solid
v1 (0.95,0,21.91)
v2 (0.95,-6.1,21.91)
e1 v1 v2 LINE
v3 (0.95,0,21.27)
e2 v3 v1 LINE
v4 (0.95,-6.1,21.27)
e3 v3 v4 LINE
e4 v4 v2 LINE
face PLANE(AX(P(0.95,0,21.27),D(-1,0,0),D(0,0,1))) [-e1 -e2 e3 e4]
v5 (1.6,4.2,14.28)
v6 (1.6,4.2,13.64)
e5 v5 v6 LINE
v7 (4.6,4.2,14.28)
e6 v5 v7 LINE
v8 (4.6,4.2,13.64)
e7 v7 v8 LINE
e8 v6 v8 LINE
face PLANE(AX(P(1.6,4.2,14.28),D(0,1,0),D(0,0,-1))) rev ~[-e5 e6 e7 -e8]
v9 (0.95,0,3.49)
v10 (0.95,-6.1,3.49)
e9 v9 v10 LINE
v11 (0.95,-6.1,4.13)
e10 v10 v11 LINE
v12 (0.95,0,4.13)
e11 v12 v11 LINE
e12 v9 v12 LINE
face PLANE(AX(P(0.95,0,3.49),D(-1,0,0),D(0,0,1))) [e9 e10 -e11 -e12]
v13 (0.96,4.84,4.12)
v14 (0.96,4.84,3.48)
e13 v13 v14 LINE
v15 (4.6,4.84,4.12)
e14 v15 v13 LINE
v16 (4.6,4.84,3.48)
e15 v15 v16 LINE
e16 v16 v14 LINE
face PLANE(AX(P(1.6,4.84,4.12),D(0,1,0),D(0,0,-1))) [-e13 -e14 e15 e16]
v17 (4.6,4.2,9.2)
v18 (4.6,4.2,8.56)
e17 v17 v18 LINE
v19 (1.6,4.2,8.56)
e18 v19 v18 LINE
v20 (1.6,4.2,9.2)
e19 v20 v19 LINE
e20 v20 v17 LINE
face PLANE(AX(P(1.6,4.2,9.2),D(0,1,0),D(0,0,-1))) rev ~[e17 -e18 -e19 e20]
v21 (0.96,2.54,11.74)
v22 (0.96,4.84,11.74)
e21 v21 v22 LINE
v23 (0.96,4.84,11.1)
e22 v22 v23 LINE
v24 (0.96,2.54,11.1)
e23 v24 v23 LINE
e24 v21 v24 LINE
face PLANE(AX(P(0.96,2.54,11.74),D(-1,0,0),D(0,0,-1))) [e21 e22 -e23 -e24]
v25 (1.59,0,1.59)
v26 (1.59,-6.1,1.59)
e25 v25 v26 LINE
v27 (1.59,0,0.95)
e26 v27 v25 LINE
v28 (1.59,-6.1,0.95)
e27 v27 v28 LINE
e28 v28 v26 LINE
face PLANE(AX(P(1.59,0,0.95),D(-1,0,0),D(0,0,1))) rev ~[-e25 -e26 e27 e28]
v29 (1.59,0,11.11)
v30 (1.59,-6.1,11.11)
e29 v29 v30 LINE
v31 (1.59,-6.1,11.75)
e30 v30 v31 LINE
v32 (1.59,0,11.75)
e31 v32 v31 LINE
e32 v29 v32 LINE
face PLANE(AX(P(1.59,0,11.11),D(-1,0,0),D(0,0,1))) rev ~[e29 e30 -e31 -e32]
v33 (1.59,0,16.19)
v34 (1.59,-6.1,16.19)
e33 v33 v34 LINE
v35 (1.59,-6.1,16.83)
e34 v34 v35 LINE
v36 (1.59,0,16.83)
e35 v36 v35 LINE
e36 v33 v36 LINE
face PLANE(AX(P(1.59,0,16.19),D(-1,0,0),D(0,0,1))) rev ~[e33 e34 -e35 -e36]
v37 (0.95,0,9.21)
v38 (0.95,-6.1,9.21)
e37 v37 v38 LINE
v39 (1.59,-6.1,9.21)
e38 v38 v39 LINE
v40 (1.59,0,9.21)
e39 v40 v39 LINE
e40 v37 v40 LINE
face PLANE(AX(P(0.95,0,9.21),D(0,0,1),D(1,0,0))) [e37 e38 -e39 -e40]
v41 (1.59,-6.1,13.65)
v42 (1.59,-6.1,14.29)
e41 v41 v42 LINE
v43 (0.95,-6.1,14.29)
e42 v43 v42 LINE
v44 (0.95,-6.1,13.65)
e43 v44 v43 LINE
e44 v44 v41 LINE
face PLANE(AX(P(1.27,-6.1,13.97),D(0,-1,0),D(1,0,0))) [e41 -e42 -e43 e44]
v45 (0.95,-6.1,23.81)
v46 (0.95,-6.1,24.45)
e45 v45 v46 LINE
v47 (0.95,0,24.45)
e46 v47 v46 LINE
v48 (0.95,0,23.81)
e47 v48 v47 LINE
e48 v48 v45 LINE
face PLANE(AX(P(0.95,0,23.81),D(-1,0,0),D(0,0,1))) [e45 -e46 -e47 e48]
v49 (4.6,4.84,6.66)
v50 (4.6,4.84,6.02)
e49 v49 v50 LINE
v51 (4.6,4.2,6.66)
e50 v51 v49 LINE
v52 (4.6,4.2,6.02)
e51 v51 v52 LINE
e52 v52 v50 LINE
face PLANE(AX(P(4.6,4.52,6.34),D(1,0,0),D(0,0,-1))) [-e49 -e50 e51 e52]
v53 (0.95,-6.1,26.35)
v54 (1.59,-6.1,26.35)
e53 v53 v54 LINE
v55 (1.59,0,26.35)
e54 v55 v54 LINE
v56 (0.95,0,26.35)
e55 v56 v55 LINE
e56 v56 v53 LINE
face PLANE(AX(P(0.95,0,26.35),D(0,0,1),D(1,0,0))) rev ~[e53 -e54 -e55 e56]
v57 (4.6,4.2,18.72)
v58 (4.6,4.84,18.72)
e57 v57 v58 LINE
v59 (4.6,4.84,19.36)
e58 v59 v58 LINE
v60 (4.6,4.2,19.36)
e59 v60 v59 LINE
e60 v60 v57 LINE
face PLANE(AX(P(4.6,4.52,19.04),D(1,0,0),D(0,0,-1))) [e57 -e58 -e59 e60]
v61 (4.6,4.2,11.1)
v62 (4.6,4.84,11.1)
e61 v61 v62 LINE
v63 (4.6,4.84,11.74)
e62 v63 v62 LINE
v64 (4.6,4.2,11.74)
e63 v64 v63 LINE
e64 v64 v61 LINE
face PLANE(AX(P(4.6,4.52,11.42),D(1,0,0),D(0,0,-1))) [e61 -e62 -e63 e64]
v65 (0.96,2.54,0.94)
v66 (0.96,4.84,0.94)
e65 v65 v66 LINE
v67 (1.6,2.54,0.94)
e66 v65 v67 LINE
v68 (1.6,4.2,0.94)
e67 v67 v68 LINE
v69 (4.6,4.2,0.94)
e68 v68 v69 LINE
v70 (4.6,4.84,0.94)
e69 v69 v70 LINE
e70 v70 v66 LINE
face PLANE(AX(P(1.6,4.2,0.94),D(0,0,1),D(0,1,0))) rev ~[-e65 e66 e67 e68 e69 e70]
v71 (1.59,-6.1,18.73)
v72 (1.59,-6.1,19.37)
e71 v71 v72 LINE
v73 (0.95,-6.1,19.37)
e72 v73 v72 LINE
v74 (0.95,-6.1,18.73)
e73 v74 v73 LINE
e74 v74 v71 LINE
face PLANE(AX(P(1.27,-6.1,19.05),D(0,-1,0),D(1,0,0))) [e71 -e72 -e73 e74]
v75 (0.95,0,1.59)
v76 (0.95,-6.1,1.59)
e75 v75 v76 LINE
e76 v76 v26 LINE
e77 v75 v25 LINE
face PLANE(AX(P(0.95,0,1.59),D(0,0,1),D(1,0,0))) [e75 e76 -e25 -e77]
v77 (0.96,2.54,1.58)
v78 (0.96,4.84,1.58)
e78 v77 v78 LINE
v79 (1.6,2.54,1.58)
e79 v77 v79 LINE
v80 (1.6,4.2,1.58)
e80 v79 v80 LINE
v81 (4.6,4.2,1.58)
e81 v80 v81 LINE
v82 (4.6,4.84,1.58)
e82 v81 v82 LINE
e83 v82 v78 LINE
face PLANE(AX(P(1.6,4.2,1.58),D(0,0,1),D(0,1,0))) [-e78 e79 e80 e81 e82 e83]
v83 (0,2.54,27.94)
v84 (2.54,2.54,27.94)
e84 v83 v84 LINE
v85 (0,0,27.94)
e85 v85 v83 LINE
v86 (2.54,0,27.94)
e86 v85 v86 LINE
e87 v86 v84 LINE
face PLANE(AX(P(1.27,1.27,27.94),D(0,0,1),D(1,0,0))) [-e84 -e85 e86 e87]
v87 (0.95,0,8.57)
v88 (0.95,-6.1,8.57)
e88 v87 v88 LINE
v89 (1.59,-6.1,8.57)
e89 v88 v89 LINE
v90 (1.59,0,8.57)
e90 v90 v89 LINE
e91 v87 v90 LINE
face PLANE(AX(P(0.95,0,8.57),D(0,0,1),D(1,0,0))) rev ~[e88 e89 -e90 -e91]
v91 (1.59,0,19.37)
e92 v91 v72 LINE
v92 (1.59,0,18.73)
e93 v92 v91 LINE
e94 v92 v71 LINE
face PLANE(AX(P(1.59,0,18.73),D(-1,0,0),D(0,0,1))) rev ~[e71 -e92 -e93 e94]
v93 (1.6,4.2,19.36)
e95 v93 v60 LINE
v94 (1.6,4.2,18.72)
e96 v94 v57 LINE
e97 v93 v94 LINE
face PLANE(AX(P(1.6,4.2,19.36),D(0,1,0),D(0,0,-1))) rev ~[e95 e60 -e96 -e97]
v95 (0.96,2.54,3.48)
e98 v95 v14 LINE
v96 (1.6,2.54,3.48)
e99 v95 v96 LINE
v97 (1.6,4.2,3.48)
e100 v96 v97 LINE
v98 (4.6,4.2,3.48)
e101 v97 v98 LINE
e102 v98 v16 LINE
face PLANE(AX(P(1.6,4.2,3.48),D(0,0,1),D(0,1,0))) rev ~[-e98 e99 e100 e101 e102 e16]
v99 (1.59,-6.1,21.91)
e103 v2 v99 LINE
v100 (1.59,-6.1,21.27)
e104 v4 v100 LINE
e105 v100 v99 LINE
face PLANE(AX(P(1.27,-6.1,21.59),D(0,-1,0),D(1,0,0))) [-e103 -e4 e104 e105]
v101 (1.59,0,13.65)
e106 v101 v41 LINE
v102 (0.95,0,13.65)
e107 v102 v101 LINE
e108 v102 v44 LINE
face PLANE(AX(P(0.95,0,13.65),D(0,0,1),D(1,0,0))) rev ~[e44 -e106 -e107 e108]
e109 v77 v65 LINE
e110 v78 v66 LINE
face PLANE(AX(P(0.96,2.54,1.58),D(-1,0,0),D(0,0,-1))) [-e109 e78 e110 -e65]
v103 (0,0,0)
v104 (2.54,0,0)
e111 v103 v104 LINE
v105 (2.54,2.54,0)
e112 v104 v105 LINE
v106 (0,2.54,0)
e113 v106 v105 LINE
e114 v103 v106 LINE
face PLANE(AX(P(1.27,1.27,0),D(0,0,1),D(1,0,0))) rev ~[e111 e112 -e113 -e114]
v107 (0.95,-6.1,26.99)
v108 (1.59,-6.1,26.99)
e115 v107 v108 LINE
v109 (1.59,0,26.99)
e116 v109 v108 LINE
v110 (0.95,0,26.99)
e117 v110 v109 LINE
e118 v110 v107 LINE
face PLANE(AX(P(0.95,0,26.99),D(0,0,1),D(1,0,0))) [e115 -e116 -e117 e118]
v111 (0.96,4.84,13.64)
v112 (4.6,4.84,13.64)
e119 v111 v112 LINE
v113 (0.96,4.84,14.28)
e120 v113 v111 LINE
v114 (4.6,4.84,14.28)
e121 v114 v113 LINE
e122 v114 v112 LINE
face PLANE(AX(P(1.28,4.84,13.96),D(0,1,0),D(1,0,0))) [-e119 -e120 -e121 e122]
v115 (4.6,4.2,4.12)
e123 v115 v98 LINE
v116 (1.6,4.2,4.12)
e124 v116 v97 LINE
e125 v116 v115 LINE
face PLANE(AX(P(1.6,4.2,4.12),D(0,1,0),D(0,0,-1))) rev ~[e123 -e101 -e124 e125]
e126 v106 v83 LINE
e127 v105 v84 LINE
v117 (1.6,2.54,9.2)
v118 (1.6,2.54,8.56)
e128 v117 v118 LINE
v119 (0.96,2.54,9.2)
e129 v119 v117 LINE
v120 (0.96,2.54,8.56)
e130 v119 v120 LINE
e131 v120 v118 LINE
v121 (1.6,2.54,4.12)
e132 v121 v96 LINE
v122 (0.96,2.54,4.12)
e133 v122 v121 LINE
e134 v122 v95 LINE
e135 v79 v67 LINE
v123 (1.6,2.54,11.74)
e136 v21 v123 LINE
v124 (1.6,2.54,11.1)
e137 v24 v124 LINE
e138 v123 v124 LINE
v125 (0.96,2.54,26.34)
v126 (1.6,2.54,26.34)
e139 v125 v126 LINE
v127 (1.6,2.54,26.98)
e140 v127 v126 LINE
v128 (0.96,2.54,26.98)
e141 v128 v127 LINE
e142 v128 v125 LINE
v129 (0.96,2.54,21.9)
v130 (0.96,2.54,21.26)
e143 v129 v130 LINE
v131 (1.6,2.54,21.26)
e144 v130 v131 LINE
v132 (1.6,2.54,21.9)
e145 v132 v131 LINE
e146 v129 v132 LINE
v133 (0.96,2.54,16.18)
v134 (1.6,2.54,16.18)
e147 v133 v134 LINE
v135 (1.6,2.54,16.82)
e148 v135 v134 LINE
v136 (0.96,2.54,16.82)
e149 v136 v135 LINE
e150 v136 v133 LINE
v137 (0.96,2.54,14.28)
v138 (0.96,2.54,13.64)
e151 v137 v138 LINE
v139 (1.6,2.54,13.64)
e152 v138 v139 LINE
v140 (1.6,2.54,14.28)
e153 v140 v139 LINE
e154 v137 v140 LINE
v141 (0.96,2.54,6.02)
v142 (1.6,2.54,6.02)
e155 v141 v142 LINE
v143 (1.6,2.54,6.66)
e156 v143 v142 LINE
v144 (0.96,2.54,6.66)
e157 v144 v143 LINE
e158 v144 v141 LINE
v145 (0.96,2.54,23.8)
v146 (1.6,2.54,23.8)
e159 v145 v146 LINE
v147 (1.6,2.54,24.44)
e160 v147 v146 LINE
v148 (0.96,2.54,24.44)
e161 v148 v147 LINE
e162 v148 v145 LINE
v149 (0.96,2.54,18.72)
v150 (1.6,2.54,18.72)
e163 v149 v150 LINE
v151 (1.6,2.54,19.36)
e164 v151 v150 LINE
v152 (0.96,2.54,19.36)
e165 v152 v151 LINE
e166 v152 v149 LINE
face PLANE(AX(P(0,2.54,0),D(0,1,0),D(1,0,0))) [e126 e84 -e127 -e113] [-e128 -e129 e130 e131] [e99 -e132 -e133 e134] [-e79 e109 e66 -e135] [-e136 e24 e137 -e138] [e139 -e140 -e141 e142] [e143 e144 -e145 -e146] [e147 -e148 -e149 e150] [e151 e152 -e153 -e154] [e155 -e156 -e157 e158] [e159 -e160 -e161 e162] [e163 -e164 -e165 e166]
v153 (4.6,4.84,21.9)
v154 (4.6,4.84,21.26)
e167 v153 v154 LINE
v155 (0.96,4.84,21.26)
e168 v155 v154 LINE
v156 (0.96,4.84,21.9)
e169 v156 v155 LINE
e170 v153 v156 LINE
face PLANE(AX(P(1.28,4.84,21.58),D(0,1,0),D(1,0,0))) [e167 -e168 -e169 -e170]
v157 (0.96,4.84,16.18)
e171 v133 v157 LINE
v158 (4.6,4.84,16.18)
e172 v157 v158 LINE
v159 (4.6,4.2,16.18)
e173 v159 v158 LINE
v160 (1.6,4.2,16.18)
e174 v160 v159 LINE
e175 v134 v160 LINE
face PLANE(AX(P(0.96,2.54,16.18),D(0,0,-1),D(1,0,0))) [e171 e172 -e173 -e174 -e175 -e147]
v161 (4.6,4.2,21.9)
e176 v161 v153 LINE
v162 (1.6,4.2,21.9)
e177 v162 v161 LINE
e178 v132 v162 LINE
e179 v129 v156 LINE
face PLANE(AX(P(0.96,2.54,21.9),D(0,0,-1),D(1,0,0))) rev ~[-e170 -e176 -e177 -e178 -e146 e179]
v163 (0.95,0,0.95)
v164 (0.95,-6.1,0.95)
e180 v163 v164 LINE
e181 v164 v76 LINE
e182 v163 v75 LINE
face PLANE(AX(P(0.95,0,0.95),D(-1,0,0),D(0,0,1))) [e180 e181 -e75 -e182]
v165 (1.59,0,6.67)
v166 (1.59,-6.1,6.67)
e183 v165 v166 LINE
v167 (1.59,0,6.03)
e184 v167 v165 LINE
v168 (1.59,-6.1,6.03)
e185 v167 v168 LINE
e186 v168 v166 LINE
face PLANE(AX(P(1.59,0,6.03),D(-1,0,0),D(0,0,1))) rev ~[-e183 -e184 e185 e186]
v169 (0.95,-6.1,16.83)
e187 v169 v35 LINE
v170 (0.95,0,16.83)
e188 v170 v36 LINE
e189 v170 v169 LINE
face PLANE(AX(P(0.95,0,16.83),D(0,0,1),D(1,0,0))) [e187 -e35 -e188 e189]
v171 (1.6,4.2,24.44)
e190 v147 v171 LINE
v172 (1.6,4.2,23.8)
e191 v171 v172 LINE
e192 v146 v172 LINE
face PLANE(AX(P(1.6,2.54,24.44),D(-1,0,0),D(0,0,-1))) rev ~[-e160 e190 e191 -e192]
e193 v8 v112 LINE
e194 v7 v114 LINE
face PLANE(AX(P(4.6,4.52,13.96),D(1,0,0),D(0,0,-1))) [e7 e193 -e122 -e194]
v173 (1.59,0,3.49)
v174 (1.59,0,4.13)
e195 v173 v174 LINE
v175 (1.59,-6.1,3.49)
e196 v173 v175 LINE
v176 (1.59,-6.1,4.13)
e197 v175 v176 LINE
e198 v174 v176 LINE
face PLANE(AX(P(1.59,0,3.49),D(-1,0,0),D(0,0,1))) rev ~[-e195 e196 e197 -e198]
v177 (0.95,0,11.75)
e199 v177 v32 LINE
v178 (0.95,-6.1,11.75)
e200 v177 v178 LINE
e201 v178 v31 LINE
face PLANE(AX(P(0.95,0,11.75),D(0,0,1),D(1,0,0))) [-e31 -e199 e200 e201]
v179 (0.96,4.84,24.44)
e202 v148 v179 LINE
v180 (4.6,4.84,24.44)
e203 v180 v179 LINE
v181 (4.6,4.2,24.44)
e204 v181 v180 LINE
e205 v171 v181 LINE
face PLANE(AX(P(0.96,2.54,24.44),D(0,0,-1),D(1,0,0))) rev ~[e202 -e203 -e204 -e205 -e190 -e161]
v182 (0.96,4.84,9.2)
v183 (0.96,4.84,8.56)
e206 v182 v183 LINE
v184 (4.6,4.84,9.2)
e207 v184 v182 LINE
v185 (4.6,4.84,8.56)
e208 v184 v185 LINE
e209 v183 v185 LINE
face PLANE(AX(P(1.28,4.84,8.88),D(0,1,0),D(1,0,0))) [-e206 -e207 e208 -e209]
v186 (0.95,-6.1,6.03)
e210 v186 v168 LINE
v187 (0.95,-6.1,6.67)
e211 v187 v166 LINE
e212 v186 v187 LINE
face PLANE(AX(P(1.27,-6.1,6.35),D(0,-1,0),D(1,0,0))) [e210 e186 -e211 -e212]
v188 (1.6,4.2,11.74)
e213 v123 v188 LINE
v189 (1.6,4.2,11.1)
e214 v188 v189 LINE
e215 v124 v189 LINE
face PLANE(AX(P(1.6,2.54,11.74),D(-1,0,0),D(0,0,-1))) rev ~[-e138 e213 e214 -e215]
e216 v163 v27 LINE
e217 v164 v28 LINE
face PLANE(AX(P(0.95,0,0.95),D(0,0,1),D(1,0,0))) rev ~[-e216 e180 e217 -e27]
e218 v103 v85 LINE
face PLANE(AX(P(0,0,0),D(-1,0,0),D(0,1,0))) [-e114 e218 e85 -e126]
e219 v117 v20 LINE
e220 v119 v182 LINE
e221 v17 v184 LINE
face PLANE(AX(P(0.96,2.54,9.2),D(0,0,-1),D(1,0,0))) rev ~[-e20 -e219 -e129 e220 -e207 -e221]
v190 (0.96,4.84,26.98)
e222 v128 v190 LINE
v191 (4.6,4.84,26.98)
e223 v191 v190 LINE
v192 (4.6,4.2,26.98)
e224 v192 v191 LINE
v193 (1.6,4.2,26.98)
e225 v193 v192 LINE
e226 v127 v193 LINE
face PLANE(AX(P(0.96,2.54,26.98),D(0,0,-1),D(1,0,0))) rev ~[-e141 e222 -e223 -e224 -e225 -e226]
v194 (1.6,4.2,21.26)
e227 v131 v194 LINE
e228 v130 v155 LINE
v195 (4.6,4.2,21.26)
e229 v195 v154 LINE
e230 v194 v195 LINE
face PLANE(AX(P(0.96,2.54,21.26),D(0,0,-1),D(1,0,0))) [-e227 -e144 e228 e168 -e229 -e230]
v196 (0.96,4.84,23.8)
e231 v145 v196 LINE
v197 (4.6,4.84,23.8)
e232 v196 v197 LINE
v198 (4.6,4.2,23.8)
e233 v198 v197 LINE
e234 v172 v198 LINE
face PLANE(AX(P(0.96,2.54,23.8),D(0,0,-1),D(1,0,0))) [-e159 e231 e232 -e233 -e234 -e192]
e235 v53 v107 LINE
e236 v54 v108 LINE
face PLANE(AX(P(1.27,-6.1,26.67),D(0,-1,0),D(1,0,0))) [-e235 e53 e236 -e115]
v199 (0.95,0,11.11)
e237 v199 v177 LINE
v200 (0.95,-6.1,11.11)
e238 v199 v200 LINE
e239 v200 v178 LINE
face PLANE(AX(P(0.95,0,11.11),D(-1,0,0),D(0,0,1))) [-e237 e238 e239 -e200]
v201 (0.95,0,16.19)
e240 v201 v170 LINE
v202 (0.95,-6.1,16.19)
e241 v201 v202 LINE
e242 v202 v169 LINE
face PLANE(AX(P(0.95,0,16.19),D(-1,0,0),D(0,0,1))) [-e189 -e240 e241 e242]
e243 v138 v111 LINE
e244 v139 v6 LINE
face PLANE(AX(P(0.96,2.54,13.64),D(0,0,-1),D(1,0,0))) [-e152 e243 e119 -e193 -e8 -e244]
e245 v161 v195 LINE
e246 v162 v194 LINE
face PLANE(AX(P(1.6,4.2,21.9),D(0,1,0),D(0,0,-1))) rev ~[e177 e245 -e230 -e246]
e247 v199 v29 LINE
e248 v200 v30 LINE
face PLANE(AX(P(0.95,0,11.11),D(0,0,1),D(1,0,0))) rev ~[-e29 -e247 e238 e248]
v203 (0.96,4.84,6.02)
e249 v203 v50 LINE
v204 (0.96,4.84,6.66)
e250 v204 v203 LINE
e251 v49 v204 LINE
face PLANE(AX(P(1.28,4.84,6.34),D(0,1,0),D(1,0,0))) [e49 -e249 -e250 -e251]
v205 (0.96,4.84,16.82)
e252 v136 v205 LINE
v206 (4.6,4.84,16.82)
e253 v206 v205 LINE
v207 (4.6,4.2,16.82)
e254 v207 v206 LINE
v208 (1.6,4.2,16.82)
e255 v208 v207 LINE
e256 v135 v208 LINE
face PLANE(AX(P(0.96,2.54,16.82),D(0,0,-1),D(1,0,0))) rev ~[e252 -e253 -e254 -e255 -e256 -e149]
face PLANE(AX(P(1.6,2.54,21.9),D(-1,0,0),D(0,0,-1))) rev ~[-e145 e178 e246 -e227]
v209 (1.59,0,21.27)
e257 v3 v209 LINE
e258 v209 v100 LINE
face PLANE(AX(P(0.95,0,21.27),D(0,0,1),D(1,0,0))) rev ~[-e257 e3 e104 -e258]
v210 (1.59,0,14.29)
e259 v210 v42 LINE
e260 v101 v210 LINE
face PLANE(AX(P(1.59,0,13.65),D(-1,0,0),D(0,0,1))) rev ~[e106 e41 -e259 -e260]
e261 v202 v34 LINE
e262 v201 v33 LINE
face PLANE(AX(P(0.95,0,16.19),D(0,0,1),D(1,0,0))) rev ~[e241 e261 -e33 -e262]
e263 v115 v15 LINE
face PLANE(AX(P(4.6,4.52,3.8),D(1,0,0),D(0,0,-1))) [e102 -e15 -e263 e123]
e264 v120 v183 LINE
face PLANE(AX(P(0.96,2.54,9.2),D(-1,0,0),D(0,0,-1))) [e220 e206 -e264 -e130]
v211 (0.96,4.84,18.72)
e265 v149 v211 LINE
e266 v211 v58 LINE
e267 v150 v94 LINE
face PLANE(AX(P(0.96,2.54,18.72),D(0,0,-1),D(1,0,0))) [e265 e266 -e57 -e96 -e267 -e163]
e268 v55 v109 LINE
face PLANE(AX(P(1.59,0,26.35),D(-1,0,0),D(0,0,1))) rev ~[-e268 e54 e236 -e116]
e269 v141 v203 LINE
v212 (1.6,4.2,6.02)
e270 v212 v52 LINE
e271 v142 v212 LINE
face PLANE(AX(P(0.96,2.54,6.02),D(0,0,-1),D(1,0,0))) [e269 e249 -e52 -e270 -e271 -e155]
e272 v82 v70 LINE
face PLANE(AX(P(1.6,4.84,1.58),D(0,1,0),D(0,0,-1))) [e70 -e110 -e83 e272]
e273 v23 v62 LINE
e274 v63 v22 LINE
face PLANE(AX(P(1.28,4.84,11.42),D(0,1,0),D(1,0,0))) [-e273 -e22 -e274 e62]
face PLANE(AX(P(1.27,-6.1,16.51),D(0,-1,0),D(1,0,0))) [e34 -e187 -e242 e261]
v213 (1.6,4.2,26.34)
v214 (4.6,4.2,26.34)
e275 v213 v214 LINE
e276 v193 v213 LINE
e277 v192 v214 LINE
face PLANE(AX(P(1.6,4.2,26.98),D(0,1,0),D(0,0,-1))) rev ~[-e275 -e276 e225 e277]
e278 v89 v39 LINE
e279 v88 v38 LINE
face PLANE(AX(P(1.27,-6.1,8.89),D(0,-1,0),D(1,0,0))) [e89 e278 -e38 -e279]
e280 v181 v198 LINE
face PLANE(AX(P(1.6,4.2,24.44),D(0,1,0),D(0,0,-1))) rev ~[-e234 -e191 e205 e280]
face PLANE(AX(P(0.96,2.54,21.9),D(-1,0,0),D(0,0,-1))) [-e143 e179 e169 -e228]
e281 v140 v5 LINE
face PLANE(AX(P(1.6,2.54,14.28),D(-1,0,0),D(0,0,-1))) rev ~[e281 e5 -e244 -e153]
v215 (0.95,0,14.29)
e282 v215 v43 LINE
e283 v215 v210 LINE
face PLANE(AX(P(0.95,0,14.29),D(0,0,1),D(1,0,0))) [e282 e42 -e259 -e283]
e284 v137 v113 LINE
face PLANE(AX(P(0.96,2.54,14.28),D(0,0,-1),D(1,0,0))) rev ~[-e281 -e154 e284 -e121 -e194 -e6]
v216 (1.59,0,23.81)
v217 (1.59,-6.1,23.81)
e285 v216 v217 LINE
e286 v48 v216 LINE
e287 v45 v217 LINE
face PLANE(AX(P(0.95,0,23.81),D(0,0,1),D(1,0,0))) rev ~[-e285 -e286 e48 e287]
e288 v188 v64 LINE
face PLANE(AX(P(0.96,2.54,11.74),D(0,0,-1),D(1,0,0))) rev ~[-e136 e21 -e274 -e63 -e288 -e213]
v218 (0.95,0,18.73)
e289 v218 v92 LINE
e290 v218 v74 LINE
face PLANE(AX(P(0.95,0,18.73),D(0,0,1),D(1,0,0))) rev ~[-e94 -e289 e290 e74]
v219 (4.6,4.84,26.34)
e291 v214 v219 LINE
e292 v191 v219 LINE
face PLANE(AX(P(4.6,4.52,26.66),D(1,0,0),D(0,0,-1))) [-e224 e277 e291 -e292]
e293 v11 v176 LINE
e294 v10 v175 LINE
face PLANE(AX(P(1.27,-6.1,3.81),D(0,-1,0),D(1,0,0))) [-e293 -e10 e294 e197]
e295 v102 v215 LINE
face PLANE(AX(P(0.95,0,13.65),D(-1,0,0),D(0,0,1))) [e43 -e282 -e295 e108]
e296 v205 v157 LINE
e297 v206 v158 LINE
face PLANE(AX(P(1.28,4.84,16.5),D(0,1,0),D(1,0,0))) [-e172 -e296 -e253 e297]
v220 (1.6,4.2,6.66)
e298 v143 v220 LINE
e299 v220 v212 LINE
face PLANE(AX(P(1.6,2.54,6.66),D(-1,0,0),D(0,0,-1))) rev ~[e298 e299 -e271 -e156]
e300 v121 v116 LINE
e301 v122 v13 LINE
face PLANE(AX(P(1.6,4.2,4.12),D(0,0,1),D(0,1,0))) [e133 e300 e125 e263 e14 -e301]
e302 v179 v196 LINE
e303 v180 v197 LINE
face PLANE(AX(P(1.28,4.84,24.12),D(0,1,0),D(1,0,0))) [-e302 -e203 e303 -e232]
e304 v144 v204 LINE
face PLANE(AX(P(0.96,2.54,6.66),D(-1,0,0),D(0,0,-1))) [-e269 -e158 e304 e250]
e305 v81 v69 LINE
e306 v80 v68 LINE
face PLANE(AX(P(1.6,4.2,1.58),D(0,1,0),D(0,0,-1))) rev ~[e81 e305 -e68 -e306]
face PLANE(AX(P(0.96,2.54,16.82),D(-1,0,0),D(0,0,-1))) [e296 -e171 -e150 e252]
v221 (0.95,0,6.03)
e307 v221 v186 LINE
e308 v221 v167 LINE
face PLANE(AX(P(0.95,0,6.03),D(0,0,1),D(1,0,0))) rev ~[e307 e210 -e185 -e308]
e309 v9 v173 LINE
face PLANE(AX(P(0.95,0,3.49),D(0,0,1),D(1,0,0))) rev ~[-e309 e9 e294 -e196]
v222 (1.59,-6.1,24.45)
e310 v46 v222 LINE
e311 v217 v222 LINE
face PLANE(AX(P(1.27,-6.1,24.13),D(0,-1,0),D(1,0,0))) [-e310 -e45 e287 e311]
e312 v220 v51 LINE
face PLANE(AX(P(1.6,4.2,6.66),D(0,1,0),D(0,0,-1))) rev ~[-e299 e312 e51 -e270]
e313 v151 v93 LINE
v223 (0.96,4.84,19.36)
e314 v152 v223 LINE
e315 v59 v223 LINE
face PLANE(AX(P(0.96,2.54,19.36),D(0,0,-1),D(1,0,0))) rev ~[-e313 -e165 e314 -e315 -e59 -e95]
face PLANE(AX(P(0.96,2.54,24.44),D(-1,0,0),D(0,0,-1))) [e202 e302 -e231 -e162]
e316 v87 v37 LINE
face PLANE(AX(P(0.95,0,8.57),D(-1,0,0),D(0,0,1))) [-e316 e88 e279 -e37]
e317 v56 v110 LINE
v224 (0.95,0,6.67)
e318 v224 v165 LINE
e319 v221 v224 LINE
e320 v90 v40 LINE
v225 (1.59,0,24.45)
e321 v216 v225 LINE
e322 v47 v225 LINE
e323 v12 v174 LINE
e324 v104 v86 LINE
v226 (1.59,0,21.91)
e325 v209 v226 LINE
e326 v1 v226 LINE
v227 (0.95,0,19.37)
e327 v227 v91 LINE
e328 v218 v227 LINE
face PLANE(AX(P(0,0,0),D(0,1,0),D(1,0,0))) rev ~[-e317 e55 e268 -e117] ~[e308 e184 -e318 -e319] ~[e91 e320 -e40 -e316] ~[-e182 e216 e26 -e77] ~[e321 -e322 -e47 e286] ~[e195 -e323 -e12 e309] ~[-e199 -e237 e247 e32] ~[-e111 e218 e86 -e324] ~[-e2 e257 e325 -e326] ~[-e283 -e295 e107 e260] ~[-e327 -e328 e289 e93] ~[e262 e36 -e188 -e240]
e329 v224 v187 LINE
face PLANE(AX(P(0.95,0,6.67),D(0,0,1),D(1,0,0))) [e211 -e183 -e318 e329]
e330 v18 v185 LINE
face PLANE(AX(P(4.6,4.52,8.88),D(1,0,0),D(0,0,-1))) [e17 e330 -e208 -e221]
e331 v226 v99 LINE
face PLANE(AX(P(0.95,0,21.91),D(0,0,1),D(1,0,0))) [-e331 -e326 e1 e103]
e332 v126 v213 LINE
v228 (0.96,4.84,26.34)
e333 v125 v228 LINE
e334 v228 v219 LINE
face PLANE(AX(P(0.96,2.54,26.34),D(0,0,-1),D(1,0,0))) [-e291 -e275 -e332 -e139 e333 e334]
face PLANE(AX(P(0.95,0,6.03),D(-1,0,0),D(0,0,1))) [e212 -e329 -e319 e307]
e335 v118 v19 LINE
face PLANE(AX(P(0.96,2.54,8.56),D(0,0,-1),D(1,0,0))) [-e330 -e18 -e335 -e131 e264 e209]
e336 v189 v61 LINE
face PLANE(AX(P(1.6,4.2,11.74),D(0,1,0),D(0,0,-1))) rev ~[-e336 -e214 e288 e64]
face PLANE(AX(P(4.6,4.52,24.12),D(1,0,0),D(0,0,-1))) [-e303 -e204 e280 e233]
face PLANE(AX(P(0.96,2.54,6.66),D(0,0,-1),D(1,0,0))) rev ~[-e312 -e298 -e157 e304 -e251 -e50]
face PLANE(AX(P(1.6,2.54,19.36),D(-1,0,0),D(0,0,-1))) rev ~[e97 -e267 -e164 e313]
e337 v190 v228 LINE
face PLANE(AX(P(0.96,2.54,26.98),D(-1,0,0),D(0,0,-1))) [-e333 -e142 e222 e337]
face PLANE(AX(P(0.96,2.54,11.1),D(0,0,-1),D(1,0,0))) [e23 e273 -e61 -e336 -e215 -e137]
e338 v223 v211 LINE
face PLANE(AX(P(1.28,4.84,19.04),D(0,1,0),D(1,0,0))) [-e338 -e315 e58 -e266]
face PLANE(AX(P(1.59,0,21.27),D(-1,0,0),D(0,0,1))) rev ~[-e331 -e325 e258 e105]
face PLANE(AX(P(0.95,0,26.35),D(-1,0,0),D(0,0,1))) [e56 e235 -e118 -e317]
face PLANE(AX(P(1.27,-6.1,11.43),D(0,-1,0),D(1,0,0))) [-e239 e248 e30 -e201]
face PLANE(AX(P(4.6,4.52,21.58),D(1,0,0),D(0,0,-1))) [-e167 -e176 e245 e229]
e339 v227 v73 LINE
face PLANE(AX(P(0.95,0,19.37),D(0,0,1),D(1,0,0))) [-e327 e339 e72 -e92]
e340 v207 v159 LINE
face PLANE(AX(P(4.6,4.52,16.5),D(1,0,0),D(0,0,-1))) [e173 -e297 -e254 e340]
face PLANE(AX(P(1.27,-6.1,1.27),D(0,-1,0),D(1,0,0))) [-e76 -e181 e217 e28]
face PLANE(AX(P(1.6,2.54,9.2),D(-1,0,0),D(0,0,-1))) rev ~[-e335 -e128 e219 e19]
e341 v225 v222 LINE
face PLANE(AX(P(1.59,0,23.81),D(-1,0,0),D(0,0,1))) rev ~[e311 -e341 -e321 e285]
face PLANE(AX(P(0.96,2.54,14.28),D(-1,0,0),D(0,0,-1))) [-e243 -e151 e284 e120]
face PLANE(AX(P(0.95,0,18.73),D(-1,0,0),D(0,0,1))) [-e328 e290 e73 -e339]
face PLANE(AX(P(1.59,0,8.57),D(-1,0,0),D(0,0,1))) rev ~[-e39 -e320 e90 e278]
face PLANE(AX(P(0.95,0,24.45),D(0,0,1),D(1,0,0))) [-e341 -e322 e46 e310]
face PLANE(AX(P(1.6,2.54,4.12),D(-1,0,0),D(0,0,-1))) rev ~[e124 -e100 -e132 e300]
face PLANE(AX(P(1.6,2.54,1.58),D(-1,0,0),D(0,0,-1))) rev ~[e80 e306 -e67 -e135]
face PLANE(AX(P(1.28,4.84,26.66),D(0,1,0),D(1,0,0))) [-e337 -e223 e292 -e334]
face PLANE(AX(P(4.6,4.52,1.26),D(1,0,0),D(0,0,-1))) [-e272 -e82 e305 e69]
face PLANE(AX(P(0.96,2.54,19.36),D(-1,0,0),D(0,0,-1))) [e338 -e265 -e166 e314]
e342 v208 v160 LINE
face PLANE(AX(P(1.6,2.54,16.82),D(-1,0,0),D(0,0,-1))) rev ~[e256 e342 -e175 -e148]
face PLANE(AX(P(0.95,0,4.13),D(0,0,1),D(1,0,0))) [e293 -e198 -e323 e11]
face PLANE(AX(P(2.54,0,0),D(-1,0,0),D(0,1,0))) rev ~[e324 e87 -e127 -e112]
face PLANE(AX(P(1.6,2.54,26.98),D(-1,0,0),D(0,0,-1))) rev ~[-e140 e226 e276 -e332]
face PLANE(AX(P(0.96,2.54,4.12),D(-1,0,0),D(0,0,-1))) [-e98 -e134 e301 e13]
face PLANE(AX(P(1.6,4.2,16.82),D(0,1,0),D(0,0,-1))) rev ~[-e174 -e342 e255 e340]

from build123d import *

# Parameters (mm, degrees)
SKETCH1_W           = 2.54
SKETCH1_H           = 2.54
BOSS_EXTRUDE1_DEPTH = 27.94
SKETCH2_W           = 0.64
SKETCH2_H           = 0.64
BOSS_EXTRUDE2_DEPTH = 6.1
LPATTERN1_COUNT     = 11
LPATTERN1_PITCH     = 2.54
SKETCH3_W           = 0.64
SKETCH3_H           = 0.64
BOSS_EXTRUDE3_DEPTH = 2.3
LPATTERN2_COUNT     = 11
LPATTERN2_PITCH     = 2.54
SKETCH4_W           = 0.64
SKETCH4_H           = 0.64
BOSS_EXTRUDE4_DEPTH = 3
LPATTERN3_COUNT     = 11
LPATTERN3_PITCH     = 2.54


with BuildPart() as part:
    # Sketch1 → Boss-Extrude1 (new body)
    with BuildSketch(Plane.XY):
        with Locations((1.27, 1.27)):
            Rectangle(SKETCH1_W, SKETCH1_H)
    extrude(amount=BOSS_EXTRUDE1_DEPTH)

    # Sketch2 → Boss-Extrude2 (add)
    with BuildSketch(Plane.XZ):
        with Locations((1.27, 26.67)):
            Rectangle(SKETCH2_W, SKETCH2_H)
    boss_extrude2 = extrude(amount=BOSS_EXTRUDE2_DEPTH)

    # LPattern1: Boss-Extrude2 ×11
    with Locations(*[(0, 0, -i * LPATTERN1_PITCH) for i in range(1, LPATTERN1_COUNT)]):
        add(boss_extrude2)

    # Sketch3 → Boss-Extrude3 (add)
    with BuildSketch(Plane(origin=(0, 2.54, 0), x_dir=(1, 0, 0), z_dir=(0, 1, 0))):
        with Locations((1.28, -1.26)):
            Rectangle(SKETCH3_W, SKETCH3_H)
    boss_extrude3 = extrude(amount=BOSS_EXTRUDE3_DEPTH)

    # LPattern2: Boss-Extrude3 ×11
    with Locations(*[(0, 0, i * LPATTERN2_PITCH) for i in range(1, LPATTERN2_COUNT)]):
        add(boss_extrude3)

    # Sketch4 → Boss-Extrude4 (add)
    with BuildSketch(Plane(origin=(1.6, 0, 0), x_dir=(0, 0, -1), z_dir=(1, 0, 0))):
        with Locations((-1.26, 4.52)):
            Rectangle(SKETCH4_W, SKETCH4_H)
    boss_extrude4 = extrude(amount=BOSS_EXTRUDE4_DEPTH)

    # LPattern3: Boss-Extrude4 ×11
    with Locations(*[(0, 0, i * LPATTERN3_PITCH) for i in range(1, LPATTERN3_COUNT)]):
        add(boss_extrude4)


solid = part.part
